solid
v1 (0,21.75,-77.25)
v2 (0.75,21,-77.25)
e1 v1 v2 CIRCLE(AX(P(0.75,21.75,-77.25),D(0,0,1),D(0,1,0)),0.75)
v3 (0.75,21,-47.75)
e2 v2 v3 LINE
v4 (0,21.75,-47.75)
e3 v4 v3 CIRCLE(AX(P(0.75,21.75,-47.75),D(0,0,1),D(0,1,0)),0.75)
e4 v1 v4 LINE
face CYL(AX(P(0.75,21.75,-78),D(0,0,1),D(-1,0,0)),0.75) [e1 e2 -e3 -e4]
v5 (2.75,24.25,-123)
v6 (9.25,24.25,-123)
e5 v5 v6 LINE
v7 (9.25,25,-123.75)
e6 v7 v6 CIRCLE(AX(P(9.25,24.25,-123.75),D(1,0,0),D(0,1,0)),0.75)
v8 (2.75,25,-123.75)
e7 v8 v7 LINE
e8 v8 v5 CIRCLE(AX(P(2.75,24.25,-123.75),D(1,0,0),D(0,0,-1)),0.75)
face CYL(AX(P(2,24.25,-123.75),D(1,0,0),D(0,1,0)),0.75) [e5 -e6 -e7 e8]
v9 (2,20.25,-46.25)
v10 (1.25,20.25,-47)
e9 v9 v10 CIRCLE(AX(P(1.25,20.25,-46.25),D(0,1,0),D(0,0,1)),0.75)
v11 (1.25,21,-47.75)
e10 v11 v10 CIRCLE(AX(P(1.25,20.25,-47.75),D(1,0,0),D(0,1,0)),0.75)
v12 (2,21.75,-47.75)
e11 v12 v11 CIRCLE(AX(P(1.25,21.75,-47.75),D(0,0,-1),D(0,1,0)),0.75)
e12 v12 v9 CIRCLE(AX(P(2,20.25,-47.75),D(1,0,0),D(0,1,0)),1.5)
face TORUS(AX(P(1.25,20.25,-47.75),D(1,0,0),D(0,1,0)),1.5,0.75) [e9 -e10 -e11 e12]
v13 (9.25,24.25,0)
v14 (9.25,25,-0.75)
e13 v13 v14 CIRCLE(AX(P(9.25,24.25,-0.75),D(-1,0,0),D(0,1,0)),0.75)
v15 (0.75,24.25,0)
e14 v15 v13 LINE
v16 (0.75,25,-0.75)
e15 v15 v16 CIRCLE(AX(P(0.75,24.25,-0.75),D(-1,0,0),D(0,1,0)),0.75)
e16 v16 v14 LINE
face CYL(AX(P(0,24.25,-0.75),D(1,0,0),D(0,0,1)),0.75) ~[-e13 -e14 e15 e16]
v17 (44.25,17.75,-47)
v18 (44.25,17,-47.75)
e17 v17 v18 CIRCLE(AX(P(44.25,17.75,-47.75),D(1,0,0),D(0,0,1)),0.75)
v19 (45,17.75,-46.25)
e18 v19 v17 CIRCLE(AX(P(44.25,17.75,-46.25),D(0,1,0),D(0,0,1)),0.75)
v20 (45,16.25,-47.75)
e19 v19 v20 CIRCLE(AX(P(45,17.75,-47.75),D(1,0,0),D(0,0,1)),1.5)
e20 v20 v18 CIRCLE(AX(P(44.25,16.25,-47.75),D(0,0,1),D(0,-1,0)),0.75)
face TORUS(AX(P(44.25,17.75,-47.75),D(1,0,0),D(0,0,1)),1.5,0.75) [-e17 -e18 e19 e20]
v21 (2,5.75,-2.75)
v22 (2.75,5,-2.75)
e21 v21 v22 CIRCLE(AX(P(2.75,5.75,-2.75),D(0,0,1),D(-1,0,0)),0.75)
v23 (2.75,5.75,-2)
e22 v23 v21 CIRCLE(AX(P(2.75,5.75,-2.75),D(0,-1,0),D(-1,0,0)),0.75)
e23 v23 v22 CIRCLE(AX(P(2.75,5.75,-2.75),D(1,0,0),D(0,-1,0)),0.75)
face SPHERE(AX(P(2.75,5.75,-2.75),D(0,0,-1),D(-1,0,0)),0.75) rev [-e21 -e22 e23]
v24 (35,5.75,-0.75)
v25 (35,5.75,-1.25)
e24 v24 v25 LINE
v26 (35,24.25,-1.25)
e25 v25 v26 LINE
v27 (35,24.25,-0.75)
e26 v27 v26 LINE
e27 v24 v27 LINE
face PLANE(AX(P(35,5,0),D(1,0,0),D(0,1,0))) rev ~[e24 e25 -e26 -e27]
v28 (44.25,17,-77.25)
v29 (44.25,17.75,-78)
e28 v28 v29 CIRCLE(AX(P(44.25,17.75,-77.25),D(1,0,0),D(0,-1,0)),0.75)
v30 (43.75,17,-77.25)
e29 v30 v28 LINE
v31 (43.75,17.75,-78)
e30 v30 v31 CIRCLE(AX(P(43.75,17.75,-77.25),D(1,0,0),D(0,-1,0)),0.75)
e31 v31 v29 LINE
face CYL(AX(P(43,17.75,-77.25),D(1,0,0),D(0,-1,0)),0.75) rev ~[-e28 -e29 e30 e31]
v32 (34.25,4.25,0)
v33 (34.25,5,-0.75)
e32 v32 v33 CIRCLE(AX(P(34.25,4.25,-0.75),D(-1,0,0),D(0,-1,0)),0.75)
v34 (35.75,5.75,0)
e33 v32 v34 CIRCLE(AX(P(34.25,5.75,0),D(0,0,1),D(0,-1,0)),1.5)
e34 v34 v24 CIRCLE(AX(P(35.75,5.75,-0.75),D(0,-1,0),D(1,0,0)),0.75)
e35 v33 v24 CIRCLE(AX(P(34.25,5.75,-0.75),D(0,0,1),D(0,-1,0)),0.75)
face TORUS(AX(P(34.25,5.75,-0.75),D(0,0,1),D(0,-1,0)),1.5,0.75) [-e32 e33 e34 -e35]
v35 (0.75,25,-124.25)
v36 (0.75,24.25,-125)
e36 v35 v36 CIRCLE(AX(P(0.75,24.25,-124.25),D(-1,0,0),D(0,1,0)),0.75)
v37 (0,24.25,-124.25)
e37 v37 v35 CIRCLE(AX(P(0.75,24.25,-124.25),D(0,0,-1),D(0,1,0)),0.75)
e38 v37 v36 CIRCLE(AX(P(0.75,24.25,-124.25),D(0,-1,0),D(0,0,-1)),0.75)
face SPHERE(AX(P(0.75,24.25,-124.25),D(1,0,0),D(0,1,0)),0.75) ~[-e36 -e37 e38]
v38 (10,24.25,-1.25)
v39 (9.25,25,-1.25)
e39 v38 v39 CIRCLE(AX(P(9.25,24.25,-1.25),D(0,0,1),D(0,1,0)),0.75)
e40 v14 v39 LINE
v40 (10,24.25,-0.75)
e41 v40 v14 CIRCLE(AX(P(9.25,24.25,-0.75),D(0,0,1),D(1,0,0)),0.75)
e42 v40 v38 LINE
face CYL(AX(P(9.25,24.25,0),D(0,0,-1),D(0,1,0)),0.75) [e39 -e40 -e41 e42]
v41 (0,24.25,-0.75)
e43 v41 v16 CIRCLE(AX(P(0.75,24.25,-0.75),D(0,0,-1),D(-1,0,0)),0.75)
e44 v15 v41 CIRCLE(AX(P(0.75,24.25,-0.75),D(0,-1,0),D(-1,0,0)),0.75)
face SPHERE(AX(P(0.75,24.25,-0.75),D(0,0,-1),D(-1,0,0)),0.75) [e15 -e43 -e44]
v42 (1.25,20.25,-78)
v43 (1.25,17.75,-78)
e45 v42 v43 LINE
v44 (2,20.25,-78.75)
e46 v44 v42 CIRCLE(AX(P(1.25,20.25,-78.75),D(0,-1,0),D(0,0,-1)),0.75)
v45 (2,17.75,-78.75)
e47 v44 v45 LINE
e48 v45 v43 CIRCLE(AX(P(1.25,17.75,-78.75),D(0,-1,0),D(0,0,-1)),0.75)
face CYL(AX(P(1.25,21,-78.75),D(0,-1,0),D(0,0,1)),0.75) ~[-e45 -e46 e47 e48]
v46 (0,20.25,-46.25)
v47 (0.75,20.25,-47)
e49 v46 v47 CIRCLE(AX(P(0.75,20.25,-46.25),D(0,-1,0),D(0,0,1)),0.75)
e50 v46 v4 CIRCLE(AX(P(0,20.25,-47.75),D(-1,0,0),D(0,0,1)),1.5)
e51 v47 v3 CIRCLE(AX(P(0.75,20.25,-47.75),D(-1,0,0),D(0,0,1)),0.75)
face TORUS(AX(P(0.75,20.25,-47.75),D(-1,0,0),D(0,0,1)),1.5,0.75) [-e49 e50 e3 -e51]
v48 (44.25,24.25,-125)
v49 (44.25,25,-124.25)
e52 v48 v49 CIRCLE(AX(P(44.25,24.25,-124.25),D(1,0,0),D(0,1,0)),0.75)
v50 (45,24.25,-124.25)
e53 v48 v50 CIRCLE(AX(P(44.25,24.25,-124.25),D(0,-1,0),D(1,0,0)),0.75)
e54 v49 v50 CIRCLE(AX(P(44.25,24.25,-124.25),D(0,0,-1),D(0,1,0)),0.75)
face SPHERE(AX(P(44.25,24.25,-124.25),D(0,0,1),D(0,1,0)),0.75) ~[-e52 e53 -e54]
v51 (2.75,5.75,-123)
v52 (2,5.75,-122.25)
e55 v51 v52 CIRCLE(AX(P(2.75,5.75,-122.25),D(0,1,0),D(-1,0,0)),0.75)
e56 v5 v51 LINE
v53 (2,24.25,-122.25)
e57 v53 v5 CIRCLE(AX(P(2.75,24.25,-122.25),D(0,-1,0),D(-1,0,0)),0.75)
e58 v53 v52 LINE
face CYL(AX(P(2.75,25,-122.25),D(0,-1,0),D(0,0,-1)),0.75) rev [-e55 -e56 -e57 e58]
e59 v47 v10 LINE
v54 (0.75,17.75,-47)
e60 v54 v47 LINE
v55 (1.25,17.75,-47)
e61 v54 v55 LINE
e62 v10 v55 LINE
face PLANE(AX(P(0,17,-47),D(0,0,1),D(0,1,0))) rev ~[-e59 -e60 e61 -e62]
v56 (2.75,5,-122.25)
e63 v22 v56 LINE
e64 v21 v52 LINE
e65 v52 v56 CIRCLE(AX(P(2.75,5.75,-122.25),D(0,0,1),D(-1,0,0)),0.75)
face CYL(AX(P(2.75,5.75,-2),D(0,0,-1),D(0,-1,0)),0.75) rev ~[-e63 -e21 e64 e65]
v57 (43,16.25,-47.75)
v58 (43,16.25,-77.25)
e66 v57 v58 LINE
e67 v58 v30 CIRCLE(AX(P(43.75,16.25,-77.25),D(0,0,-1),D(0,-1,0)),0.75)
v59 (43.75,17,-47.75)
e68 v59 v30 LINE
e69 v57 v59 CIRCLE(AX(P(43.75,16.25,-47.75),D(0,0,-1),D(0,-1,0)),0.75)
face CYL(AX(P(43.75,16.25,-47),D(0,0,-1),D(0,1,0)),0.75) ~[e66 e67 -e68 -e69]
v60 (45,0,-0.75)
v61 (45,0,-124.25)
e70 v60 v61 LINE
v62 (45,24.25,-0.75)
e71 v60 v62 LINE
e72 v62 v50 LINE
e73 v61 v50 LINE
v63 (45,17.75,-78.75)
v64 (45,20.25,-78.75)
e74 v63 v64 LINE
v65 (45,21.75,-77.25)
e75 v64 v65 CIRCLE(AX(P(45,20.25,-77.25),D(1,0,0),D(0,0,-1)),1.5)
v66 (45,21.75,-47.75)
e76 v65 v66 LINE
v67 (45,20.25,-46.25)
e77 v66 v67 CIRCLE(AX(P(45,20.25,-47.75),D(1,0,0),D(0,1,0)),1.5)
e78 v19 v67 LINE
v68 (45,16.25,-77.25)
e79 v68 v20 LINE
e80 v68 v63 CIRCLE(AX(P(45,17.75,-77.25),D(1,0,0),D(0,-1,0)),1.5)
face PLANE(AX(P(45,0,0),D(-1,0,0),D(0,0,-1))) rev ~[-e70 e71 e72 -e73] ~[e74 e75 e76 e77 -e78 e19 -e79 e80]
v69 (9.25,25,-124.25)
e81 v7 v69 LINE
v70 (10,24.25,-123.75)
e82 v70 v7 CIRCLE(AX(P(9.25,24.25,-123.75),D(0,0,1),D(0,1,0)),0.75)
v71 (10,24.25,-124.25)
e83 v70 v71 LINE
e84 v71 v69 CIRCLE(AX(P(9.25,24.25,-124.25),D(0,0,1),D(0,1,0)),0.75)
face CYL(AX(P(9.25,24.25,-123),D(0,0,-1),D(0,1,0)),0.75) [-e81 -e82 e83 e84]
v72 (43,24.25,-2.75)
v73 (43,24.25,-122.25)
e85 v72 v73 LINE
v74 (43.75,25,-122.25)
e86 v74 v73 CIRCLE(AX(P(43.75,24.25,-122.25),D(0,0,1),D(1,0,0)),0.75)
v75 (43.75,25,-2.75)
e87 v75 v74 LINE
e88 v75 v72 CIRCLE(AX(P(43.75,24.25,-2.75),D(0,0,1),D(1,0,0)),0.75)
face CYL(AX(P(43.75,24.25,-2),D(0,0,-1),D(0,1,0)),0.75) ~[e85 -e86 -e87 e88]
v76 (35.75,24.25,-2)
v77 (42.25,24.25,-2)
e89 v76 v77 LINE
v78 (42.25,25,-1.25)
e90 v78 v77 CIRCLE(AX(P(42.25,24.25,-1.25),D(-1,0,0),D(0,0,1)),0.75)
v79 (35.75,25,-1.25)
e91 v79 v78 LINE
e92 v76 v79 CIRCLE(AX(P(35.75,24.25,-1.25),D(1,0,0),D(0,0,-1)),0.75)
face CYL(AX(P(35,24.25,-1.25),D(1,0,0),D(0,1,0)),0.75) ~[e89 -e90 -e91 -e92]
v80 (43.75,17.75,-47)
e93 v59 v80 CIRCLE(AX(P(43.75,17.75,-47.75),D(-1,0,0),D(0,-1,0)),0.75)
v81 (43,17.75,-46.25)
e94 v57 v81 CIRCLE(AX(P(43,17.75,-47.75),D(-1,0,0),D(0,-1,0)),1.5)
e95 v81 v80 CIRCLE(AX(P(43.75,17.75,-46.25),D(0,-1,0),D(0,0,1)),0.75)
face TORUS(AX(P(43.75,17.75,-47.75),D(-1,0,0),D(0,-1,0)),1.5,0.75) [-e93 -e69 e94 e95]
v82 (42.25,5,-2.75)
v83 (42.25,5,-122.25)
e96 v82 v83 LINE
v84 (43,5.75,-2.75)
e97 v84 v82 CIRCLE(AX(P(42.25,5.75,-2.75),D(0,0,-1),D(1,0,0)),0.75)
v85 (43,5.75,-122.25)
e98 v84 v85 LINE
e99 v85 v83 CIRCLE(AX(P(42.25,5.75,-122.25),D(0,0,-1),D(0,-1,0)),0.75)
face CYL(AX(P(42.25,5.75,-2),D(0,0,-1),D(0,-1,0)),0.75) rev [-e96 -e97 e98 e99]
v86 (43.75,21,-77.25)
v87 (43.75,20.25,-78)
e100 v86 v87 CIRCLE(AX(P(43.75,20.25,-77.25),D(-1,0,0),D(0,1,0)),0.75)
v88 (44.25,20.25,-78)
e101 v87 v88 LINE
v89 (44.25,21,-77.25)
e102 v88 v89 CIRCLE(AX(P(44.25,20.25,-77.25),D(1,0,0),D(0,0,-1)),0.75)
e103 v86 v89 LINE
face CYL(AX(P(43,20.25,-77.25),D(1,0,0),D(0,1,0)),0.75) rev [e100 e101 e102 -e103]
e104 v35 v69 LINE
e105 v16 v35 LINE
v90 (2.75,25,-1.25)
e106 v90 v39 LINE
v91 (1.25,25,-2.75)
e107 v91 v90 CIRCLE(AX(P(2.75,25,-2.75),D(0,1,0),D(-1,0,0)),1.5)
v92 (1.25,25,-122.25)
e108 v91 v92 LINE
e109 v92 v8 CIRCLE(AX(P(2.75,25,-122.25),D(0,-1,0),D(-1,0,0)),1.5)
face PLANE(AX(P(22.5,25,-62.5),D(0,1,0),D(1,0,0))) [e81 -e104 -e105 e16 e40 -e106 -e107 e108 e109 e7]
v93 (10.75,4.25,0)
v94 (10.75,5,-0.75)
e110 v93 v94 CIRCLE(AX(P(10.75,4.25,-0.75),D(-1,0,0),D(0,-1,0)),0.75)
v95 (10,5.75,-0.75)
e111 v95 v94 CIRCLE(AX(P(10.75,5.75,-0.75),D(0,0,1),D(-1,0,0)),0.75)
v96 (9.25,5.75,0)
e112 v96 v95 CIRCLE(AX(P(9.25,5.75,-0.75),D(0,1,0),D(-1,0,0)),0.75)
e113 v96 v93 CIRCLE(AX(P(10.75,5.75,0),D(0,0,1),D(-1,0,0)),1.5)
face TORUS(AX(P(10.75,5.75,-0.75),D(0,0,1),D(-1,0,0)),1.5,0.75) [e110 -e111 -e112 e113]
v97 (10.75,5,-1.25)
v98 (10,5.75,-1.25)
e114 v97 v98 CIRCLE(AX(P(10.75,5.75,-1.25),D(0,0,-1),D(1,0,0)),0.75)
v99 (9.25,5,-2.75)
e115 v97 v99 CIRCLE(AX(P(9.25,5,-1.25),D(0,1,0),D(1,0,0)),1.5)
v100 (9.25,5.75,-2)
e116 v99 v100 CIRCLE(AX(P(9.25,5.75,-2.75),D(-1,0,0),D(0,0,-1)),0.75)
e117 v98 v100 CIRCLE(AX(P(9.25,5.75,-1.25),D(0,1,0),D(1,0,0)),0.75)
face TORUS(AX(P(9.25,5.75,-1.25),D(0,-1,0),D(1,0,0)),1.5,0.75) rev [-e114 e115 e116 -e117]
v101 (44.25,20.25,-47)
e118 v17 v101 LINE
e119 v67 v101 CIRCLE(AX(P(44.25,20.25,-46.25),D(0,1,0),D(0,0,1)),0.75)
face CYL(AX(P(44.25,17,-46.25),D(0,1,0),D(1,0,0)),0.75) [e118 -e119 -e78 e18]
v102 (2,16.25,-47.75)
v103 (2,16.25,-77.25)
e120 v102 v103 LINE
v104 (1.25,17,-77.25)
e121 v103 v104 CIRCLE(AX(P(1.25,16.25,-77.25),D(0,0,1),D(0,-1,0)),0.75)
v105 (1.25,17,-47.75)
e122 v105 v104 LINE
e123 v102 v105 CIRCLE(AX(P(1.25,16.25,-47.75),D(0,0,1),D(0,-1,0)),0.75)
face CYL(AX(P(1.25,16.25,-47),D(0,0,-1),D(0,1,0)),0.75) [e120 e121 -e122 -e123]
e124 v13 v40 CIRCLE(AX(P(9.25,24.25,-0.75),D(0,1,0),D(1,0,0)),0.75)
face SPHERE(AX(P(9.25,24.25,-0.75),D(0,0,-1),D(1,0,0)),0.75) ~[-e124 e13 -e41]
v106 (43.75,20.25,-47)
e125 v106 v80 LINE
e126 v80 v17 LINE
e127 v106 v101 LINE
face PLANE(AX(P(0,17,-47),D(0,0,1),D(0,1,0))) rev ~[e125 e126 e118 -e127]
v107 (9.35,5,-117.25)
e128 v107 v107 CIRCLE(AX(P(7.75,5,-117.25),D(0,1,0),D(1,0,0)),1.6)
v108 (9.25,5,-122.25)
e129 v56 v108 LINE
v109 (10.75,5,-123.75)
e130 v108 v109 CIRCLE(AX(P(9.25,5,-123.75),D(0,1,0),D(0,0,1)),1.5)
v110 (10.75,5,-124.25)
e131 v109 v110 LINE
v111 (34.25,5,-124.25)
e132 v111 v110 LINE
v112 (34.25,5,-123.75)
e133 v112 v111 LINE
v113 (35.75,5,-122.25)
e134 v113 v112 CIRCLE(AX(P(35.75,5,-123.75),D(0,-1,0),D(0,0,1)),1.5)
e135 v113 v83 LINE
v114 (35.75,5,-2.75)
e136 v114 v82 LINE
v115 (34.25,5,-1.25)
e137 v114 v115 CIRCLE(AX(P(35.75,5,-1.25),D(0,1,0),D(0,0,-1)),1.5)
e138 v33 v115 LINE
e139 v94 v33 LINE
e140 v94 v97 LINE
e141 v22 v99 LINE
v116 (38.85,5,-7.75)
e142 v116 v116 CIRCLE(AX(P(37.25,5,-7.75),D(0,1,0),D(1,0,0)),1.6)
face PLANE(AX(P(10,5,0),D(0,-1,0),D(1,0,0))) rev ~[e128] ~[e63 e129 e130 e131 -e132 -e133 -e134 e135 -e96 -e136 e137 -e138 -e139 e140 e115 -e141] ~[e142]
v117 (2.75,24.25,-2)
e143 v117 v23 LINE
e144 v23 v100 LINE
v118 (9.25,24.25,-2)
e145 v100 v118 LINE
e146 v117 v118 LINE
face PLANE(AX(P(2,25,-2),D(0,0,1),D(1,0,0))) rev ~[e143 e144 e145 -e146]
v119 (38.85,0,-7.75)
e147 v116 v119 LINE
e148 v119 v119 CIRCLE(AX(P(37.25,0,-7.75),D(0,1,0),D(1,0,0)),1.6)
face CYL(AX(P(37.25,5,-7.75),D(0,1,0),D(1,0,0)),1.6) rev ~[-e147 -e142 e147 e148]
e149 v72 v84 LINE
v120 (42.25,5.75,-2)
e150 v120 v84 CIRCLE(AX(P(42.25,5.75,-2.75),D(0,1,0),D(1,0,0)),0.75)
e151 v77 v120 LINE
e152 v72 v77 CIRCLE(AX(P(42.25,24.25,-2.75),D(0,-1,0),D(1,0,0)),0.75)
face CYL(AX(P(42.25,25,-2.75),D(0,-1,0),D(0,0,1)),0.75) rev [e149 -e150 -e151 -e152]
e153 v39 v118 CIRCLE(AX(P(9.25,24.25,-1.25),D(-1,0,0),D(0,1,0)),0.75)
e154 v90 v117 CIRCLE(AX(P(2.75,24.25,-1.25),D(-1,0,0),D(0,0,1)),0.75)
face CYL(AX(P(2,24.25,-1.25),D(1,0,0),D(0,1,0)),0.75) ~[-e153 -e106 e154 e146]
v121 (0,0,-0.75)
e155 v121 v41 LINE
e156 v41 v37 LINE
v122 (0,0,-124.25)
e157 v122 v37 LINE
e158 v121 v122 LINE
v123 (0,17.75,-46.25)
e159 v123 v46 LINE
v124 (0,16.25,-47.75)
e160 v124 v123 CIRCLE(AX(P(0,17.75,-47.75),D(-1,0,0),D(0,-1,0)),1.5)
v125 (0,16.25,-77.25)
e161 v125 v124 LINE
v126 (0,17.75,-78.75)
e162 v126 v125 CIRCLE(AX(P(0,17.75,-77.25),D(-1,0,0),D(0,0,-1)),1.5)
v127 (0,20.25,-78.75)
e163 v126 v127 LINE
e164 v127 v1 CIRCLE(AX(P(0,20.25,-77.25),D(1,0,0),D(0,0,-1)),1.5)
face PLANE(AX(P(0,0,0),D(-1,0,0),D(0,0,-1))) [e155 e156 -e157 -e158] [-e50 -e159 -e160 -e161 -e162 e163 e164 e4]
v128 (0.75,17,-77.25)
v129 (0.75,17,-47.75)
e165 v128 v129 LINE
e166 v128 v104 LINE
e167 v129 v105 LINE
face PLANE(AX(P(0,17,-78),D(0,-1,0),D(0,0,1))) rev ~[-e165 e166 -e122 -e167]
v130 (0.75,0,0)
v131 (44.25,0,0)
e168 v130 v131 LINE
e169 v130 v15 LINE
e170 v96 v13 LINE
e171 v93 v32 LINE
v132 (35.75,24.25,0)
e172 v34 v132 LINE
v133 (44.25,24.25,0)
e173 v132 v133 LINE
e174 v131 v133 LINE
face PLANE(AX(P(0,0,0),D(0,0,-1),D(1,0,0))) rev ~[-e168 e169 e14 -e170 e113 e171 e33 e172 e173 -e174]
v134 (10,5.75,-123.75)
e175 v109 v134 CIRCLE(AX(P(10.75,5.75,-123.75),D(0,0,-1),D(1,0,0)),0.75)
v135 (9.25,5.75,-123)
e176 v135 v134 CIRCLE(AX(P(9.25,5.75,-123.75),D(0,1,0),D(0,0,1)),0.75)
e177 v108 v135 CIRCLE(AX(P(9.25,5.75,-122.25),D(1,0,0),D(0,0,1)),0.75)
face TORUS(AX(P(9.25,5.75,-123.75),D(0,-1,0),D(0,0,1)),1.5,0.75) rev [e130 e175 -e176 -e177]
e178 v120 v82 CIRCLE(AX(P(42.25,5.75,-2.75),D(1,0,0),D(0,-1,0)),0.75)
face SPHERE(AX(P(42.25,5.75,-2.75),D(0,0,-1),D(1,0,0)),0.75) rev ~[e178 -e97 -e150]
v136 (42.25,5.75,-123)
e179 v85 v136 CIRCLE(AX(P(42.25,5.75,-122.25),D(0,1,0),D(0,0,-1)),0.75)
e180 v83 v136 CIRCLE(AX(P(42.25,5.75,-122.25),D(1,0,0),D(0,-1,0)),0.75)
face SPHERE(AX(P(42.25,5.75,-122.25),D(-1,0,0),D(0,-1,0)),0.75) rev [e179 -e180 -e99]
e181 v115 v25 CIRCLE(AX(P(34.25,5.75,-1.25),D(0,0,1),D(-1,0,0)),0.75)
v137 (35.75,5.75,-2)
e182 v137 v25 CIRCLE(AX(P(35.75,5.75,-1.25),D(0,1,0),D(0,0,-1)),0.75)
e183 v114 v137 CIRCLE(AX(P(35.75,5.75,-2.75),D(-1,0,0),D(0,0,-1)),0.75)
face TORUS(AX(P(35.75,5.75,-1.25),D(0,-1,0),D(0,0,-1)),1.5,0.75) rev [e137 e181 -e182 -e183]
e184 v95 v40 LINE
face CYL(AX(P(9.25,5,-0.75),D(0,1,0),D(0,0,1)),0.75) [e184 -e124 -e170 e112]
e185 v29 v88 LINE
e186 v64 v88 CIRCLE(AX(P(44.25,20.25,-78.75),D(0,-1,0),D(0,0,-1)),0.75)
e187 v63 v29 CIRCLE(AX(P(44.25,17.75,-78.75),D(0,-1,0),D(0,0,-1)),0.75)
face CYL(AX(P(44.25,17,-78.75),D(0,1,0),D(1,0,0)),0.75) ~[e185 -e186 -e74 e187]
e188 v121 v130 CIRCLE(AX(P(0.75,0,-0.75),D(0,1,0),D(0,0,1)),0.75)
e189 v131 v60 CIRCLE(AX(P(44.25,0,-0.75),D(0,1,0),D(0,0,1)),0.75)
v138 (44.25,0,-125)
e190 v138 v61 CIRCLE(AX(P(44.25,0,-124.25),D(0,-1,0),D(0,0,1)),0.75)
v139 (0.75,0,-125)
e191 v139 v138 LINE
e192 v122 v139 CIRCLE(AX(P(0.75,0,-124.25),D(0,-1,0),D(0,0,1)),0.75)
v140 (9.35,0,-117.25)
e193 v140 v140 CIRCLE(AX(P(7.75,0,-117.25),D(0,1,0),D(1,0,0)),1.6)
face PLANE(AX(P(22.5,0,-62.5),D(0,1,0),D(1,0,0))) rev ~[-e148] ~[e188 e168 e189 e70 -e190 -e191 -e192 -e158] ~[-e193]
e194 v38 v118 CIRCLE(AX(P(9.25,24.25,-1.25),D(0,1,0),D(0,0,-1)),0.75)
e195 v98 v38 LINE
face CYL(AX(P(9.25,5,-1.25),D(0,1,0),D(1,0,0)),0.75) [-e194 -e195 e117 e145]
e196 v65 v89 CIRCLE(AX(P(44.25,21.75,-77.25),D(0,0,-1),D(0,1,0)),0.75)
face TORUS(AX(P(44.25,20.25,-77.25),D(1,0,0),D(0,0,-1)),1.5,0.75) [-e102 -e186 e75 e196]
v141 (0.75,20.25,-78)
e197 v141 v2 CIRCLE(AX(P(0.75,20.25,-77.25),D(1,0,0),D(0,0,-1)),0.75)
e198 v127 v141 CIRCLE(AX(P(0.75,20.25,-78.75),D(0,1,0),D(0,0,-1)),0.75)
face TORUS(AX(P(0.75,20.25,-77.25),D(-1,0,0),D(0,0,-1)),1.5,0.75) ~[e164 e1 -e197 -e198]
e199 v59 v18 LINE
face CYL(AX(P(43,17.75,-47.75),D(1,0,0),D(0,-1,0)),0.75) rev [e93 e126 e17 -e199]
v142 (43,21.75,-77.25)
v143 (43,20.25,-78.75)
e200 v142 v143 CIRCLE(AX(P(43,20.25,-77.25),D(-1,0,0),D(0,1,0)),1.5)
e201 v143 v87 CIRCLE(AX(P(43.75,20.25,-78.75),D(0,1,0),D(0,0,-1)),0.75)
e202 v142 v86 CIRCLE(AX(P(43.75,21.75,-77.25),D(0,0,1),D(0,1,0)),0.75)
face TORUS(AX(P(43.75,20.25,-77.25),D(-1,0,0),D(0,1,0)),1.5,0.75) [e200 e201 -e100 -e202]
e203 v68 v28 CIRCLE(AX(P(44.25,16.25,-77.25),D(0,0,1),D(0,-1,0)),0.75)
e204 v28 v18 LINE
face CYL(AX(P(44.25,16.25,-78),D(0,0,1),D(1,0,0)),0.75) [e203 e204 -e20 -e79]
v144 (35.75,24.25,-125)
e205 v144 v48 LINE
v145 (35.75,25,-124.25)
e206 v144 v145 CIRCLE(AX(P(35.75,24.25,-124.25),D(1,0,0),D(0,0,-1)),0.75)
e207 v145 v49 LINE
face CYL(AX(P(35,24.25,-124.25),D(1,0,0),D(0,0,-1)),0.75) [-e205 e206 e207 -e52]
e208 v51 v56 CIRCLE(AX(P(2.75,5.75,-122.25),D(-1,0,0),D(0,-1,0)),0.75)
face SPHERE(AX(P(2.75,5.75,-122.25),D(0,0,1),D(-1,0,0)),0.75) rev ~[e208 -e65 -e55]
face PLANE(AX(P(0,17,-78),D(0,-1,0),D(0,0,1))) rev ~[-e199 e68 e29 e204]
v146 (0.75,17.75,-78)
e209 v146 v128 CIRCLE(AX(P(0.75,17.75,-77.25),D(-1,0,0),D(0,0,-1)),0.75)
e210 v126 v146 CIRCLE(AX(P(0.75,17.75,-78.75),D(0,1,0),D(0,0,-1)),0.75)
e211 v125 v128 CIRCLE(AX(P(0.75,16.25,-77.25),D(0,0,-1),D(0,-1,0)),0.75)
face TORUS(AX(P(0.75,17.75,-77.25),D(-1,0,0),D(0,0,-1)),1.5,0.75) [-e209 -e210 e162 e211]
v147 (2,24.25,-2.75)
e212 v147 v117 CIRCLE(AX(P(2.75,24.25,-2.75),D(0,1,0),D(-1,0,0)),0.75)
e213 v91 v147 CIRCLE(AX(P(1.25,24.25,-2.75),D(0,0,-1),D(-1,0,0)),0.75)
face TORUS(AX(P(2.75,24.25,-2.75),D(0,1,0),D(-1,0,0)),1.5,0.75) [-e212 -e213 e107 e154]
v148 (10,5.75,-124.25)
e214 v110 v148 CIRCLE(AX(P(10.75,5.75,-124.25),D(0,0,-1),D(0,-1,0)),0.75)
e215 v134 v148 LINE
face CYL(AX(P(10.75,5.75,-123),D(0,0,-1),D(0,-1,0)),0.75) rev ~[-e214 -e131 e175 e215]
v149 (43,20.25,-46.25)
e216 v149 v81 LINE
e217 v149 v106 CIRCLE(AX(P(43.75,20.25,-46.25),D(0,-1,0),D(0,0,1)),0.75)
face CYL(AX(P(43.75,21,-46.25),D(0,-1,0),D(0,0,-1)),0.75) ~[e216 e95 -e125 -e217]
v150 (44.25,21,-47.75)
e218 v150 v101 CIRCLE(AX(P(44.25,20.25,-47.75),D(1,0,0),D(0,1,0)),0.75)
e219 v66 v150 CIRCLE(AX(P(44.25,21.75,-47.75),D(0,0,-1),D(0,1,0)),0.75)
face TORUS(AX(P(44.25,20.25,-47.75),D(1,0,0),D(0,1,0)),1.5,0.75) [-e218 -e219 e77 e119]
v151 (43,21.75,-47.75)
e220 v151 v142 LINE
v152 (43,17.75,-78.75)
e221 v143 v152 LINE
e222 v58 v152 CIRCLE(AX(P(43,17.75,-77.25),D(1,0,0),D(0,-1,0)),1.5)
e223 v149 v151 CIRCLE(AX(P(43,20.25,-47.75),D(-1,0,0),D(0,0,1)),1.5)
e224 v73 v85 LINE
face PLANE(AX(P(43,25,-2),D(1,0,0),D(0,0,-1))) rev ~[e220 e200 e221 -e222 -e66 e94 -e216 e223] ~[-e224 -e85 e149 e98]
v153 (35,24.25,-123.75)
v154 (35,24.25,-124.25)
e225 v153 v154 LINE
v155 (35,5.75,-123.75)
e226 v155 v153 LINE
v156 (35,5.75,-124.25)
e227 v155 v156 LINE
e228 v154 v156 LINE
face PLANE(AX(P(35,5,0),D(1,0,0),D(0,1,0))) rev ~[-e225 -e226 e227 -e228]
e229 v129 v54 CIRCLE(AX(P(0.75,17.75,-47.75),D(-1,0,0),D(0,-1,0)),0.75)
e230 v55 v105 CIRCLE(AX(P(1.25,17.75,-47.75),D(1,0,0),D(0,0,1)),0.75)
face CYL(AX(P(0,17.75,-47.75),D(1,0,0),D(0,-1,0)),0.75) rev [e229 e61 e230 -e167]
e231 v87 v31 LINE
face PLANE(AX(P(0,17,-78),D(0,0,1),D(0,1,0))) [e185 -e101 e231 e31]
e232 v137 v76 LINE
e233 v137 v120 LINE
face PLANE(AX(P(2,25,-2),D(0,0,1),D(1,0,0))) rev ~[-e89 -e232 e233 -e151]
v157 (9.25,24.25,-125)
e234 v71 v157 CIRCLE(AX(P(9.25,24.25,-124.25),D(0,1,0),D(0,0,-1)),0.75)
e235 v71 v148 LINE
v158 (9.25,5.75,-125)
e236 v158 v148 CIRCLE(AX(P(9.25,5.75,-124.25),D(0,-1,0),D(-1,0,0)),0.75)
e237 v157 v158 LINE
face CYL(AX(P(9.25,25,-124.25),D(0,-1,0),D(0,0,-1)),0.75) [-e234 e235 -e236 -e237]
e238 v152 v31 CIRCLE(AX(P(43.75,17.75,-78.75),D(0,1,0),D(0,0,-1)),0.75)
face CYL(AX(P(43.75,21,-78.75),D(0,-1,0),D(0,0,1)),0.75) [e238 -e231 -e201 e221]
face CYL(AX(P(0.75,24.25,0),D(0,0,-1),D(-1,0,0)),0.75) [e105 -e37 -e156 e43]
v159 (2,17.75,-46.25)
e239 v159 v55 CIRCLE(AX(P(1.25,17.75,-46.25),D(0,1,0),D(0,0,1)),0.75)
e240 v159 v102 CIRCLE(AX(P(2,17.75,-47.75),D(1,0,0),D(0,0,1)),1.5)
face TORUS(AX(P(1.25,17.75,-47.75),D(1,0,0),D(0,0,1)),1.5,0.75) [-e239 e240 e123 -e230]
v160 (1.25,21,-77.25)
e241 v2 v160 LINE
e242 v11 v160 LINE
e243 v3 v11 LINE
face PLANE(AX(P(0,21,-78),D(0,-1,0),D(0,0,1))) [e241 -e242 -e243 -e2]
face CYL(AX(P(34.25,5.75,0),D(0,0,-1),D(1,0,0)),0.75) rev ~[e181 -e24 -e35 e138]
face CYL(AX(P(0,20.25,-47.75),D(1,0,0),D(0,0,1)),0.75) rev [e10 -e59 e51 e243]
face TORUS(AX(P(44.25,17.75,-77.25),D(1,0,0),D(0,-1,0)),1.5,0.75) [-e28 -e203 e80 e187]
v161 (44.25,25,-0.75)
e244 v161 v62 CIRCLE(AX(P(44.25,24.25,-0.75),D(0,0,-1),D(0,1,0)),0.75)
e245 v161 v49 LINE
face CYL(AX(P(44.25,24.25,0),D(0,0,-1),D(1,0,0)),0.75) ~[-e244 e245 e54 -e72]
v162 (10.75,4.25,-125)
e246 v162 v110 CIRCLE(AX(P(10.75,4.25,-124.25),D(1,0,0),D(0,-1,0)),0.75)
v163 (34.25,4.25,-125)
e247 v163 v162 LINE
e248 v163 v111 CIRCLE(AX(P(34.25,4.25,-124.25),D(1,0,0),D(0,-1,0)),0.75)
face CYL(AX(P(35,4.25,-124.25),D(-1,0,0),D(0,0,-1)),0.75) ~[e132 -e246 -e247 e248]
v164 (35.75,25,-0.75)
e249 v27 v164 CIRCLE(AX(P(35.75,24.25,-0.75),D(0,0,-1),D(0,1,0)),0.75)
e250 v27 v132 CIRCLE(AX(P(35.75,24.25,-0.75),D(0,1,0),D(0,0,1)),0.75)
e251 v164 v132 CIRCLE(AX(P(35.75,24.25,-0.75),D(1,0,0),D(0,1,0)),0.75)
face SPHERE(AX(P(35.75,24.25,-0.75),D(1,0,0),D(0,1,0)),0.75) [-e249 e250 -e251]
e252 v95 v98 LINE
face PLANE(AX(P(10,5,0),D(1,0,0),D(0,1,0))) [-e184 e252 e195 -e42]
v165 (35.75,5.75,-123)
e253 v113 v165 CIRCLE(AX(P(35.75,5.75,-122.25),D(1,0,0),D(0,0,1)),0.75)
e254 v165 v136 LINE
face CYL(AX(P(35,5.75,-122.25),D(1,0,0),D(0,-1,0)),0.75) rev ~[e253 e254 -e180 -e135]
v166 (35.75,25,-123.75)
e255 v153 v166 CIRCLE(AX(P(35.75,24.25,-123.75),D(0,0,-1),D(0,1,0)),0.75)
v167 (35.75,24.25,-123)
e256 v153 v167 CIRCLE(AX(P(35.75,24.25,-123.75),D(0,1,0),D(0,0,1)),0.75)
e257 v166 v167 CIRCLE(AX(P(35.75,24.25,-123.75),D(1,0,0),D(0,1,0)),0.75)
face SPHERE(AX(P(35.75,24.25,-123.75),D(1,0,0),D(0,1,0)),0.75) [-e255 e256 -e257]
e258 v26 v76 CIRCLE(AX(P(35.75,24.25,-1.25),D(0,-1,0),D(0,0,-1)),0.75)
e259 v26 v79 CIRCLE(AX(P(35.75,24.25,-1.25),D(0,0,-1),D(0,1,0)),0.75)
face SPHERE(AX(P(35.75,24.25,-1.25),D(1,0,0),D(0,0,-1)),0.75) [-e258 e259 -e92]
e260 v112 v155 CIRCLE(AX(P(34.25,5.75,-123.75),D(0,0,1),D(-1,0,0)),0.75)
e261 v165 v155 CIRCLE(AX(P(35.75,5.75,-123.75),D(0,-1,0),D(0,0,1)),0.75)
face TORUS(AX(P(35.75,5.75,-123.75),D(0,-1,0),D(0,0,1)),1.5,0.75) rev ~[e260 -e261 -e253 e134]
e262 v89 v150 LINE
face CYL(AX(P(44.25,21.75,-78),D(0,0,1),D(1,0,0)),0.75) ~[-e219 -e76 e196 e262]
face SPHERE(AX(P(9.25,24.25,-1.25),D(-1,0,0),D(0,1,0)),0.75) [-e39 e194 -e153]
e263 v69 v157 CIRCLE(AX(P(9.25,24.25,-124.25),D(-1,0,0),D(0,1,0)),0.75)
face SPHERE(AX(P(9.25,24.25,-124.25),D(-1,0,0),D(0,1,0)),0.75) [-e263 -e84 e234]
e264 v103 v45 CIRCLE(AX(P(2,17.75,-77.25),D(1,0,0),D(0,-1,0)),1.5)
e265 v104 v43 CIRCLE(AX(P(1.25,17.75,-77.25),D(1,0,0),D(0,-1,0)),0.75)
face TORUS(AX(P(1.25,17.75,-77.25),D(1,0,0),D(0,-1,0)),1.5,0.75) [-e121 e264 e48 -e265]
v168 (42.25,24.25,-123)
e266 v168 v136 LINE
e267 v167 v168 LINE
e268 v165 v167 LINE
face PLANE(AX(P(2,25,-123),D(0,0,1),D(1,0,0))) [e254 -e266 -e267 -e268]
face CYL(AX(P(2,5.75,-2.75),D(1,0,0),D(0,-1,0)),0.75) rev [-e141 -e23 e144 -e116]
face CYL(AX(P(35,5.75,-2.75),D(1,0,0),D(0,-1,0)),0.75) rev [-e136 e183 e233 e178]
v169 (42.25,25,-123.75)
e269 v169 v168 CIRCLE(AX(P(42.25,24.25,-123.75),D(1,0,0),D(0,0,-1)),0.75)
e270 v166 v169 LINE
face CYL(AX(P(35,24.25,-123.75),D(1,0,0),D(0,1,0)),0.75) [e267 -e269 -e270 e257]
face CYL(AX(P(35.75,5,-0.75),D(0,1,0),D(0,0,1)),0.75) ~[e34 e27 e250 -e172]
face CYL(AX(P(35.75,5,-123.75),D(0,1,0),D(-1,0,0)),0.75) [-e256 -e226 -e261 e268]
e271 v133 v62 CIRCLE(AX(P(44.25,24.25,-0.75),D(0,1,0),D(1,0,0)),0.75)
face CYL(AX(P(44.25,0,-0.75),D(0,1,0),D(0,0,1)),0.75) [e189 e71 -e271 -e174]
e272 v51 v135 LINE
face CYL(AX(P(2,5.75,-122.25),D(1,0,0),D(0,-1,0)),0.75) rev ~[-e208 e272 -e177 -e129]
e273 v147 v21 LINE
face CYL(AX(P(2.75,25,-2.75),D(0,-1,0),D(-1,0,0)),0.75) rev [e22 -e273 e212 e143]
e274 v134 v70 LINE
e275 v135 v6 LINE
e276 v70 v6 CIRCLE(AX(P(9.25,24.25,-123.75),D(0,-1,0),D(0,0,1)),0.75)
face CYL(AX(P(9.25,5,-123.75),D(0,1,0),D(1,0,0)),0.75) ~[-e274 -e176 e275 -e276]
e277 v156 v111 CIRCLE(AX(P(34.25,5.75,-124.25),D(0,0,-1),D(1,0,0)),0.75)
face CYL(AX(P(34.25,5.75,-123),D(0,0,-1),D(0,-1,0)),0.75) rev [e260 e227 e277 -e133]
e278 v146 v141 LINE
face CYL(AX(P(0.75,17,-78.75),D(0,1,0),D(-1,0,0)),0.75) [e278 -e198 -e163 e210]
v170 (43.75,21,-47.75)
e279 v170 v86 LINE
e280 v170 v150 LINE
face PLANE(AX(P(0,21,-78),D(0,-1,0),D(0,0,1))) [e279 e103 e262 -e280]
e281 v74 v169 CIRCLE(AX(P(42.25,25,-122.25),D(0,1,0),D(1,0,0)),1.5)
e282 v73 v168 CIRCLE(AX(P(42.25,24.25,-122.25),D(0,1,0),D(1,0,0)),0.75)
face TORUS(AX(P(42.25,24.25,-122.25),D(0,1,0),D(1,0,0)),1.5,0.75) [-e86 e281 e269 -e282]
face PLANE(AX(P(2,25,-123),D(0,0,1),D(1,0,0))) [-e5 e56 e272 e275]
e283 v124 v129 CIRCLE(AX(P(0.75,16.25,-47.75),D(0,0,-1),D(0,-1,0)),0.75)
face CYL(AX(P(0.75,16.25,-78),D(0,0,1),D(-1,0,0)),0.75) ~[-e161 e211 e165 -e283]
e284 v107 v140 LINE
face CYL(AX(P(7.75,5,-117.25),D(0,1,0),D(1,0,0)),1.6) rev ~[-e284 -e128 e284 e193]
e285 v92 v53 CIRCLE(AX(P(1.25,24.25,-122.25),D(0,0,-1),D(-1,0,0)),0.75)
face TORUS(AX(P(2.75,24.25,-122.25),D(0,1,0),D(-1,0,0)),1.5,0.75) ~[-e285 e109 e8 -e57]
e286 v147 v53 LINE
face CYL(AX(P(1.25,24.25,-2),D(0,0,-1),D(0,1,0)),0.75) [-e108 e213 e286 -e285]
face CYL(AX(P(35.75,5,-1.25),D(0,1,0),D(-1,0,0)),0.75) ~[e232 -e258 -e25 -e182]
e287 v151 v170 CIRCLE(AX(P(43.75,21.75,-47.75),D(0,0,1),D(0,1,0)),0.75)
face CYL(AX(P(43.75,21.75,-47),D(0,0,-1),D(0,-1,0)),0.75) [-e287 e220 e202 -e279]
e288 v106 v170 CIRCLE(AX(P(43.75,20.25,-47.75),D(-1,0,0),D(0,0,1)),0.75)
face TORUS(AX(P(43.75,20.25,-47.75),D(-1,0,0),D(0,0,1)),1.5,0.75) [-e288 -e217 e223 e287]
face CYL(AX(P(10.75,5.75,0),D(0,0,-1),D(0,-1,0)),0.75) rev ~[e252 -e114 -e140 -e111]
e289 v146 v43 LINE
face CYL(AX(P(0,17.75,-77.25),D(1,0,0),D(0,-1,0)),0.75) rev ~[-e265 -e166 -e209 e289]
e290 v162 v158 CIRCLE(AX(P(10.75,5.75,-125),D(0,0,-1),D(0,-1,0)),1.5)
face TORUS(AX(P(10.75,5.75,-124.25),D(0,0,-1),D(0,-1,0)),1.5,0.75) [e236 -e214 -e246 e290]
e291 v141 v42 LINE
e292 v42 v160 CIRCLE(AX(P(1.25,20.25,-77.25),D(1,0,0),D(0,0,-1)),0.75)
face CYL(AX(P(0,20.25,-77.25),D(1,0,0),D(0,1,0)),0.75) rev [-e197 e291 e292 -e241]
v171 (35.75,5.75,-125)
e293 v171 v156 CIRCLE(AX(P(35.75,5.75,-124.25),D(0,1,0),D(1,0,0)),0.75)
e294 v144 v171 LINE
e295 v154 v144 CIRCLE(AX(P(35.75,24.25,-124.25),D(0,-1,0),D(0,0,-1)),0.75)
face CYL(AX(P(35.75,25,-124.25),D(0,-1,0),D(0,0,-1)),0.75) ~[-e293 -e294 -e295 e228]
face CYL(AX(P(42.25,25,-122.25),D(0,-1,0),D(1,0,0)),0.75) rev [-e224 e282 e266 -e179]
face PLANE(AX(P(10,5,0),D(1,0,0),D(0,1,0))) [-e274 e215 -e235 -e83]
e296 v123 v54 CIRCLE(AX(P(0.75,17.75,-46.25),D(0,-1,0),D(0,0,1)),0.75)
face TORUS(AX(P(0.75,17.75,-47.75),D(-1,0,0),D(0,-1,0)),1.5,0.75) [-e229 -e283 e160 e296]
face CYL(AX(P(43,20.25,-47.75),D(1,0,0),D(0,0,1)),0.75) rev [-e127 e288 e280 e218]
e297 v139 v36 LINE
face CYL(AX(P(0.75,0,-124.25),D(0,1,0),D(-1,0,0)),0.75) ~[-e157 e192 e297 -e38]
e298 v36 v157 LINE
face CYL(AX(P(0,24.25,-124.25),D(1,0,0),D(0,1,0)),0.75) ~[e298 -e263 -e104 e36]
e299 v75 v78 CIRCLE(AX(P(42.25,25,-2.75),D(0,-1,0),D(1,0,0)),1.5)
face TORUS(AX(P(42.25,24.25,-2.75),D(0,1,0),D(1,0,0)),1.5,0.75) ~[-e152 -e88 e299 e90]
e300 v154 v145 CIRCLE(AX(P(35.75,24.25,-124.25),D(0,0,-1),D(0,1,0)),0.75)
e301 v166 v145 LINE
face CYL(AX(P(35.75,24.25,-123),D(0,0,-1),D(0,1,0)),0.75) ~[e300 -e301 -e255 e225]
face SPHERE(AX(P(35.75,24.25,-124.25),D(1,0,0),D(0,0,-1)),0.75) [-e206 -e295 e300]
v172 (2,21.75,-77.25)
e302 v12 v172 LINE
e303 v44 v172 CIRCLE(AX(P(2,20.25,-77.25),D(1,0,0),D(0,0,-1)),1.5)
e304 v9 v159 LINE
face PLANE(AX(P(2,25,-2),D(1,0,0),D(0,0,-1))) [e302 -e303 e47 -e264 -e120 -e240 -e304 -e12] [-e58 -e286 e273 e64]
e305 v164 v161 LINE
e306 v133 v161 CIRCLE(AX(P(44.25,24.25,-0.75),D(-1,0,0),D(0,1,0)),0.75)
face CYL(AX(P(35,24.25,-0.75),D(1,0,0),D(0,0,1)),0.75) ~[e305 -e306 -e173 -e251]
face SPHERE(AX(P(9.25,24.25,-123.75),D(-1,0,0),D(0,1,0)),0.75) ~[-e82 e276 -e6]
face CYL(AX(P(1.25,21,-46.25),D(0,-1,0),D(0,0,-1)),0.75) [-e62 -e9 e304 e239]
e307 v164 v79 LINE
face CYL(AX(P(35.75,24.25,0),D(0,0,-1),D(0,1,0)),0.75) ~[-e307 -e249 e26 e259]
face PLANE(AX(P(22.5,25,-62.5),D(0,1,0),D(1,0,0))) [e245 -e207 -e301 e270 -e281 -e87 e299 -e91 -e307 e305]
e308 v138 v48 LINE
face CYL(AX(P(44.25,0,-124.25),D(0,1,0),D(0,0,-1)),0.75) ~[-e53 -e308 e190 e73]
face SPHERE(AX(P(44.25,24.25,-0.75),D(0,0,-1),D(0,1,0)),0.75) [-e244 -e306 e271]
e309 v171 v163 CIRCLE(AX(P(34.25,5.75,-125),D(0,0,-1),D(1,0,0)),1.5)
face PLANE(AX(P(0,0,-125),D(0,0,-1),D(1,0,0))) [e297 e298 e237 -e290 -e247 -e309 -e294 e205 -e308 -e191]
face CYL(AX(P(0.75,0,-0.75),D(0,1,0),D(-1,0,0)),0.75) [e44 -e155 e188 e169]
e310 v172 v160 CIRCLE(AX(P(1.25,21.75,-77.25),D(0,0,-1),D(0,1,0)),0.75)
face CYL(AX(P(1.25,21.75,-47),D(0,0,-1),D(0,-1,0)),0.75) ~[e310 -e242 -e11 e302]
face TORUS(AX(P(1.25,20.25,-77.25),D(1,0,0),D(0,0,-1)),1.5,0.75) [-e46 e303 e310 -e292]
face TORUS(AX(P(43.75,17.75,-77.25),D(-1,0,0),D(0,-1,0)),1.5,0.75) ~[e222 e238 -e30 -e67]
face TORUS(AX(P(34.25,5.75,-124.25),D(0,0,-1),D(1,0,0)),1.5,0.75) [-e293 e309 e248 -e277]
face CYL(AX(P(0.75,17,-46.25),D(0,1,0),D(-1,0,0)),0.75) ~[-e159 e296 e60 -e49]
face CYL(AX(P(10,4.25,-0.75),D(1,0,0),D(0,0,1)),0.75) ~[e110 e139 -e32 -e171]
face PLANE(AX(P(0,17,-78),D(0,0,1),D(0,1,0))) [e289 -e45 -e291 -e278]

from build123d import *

# Parameters (mm, degrees)
SKETCH1_W           = 45
SKETCH1_H           = 125
BOSS_EXTRUDE1_DEPTH = 25
SKETCH2_W           = 41
SKETCH2_H           = 121
CUT_EXTRUDE1_DEPTH  = 20
SKETCH3_W           = 25
SKETCH3_H           = 20
CUT_EXTRUDE2_DEPTH  = 152
SKETCH4_W           = 31
SKETCH4_H           = 4
CUT_EXTRUDE3_DEPTH  = 126
FILLET1_R           = 0.75
FILLET2_R           = 0.75
SKETCH5_R           = 1.6
CUT_EXTRUDE4_DEPTH  = 10


with BuildPart() as part:
    # Sketch1 → Boss-Extrude1 (new body)
    with BuildSketch(Plane(origin=(0, 0, 0), x_dir=(1, 0, 0), z_dir=(0, 1, 0))):
        with Locations((22.5, 62.5)):
            Rectangle(SKETCH1_W, SKETCH1_H)
    extrude(amount=BOSS_EXTRUDE1_DEPTH)

    # Sketch2 → Cut-Extrude1 (cut)
    with BuildSketch(Plane(origin=(0, 25, 0), x_dir=(1, 0, 0), z_dir=(0, 1, 0))):
        with Locations((22.5, 62.5)):
            Rectangle(SKETCH2_W, SKETCH2_H)
    extrude(amount=-CUT_EXTRUDE1_DEPTH, mode=Mode.SUBTRACT)

    # Sketch3 → Cut-Extrude2 (cut)
    with BuildSketch(Plane.XY):
        with Locations((22.5, 15)):
            Rectangle(SKETCH3_W, SKETCH3_H)
    extrude(amount=-CUT_EXTRUDE2_DEPTH, mode=Mode.SUBTRACT)

    # Sketch4 → Cut-Extrude3 (cut)
    with BuildSketch(Plane.ZY):
        with Locations((-62.5, 19)):
            Rectangle(SKETCH4_W, SKETCH4_H)
    extrude(amount=-CUT_EXTRUDE3_DEPTH, mode=Mode.SUBTRACT)

    # Fillet1
    fillet1_edges = [part.edges().sort_by_distance(p)[0] for p in [
        (43, 17, -62.5),
        (43, 19, -47),
        (43, 21, -62.5),
        (43, 19, -78),
        (45, 19, -78),
        (44, 17, -78),
        (2, 19, -78),
        (1, 17, -78),
        (45, 21, -62.5),
        (44, 21, -78),
        (2, 21, -62.5),
        (1, 21, -78),
        (45, 19, -47),
        (44, 21, -47),
        (2, 19, -47),
        (1, 21, -47),
        (45, 17, -62.5),
        (44, 17, -47),
        (2, 17, -62.5),
        (1, 17, -47),
        (0, 19, -78),
        (0, 17, -62.5),
        (0, 19, -47),
        (0, 21, -62.5),
    ]]
    fillet(fillet1_edges, radius=FILLET1_R)

    # Fillet2
    fillet2_edges = [part.edges().sort_by_distance(p)[0] for p in [
        (45, 25, -62.5),
        (2, 5, -62.5),
        (2, 15, -2),
        (39, 5, -123),
        (2, 15, -123),
        (43, 5, -62.5),
        (40, 25, -125),
        (43, 15, -123),
        (6, 5, -2),
        (43, 15, -2),
        (2, 25, -62.5),
        (6, 25, -2),
        (43, 25, -62.5),
        (39, 25, -123),
        (39, 5, -2),
        (6, 5, -123),
        (39, 25, -2),
        (6, 25, -123),
        (40, 25, 0),
        (5, 25, -125),
        (10, 25, -124),
        (10, 25, -1),
        (22.5, 5, -125),
        (35, 5, -124),
        (35, 5, -1),
        (10, 15, -125),
        (10, 5, -124),
        (10, 15, -123),
        (10, 15, -2),
        (10, 5, -1),
        (35, 15, -125),
        (35, 25, -124),
        (35, 15, -123),
        (35, 15, -2),
        (35, 25, -1),
        (10, 15, 0),
        (22.5, 5, 0),
        (35, 15, 0),
        (0, 25, -62.5),
        (0, 12.5, -125),
        (45, 12.5, -125),
        (45, 12.5, 0),
        (0, 12.5, 0),
        (5, 25, 0),
    ]]
    fillet(fillet2_edges, radius=FILLET2_R)

    # Sketch5 → Cut-Extrude4 (cut)
    with BuildSketch(Plane(origin=(0, 5, 0), x_dir=(1, 0, 0), z_dir=(0, 1, 0))):
        with Locations((7.75, 117.25)):
            Circle(SKETCH5_R)
        with Locations((37.25, 7.75)):
            Circle(SKETCH5_R)
    extrude(amount=-CUT_EXTRUDE4_DEPTH, mode=Mode.SUBTRACT)


solid = part.part
